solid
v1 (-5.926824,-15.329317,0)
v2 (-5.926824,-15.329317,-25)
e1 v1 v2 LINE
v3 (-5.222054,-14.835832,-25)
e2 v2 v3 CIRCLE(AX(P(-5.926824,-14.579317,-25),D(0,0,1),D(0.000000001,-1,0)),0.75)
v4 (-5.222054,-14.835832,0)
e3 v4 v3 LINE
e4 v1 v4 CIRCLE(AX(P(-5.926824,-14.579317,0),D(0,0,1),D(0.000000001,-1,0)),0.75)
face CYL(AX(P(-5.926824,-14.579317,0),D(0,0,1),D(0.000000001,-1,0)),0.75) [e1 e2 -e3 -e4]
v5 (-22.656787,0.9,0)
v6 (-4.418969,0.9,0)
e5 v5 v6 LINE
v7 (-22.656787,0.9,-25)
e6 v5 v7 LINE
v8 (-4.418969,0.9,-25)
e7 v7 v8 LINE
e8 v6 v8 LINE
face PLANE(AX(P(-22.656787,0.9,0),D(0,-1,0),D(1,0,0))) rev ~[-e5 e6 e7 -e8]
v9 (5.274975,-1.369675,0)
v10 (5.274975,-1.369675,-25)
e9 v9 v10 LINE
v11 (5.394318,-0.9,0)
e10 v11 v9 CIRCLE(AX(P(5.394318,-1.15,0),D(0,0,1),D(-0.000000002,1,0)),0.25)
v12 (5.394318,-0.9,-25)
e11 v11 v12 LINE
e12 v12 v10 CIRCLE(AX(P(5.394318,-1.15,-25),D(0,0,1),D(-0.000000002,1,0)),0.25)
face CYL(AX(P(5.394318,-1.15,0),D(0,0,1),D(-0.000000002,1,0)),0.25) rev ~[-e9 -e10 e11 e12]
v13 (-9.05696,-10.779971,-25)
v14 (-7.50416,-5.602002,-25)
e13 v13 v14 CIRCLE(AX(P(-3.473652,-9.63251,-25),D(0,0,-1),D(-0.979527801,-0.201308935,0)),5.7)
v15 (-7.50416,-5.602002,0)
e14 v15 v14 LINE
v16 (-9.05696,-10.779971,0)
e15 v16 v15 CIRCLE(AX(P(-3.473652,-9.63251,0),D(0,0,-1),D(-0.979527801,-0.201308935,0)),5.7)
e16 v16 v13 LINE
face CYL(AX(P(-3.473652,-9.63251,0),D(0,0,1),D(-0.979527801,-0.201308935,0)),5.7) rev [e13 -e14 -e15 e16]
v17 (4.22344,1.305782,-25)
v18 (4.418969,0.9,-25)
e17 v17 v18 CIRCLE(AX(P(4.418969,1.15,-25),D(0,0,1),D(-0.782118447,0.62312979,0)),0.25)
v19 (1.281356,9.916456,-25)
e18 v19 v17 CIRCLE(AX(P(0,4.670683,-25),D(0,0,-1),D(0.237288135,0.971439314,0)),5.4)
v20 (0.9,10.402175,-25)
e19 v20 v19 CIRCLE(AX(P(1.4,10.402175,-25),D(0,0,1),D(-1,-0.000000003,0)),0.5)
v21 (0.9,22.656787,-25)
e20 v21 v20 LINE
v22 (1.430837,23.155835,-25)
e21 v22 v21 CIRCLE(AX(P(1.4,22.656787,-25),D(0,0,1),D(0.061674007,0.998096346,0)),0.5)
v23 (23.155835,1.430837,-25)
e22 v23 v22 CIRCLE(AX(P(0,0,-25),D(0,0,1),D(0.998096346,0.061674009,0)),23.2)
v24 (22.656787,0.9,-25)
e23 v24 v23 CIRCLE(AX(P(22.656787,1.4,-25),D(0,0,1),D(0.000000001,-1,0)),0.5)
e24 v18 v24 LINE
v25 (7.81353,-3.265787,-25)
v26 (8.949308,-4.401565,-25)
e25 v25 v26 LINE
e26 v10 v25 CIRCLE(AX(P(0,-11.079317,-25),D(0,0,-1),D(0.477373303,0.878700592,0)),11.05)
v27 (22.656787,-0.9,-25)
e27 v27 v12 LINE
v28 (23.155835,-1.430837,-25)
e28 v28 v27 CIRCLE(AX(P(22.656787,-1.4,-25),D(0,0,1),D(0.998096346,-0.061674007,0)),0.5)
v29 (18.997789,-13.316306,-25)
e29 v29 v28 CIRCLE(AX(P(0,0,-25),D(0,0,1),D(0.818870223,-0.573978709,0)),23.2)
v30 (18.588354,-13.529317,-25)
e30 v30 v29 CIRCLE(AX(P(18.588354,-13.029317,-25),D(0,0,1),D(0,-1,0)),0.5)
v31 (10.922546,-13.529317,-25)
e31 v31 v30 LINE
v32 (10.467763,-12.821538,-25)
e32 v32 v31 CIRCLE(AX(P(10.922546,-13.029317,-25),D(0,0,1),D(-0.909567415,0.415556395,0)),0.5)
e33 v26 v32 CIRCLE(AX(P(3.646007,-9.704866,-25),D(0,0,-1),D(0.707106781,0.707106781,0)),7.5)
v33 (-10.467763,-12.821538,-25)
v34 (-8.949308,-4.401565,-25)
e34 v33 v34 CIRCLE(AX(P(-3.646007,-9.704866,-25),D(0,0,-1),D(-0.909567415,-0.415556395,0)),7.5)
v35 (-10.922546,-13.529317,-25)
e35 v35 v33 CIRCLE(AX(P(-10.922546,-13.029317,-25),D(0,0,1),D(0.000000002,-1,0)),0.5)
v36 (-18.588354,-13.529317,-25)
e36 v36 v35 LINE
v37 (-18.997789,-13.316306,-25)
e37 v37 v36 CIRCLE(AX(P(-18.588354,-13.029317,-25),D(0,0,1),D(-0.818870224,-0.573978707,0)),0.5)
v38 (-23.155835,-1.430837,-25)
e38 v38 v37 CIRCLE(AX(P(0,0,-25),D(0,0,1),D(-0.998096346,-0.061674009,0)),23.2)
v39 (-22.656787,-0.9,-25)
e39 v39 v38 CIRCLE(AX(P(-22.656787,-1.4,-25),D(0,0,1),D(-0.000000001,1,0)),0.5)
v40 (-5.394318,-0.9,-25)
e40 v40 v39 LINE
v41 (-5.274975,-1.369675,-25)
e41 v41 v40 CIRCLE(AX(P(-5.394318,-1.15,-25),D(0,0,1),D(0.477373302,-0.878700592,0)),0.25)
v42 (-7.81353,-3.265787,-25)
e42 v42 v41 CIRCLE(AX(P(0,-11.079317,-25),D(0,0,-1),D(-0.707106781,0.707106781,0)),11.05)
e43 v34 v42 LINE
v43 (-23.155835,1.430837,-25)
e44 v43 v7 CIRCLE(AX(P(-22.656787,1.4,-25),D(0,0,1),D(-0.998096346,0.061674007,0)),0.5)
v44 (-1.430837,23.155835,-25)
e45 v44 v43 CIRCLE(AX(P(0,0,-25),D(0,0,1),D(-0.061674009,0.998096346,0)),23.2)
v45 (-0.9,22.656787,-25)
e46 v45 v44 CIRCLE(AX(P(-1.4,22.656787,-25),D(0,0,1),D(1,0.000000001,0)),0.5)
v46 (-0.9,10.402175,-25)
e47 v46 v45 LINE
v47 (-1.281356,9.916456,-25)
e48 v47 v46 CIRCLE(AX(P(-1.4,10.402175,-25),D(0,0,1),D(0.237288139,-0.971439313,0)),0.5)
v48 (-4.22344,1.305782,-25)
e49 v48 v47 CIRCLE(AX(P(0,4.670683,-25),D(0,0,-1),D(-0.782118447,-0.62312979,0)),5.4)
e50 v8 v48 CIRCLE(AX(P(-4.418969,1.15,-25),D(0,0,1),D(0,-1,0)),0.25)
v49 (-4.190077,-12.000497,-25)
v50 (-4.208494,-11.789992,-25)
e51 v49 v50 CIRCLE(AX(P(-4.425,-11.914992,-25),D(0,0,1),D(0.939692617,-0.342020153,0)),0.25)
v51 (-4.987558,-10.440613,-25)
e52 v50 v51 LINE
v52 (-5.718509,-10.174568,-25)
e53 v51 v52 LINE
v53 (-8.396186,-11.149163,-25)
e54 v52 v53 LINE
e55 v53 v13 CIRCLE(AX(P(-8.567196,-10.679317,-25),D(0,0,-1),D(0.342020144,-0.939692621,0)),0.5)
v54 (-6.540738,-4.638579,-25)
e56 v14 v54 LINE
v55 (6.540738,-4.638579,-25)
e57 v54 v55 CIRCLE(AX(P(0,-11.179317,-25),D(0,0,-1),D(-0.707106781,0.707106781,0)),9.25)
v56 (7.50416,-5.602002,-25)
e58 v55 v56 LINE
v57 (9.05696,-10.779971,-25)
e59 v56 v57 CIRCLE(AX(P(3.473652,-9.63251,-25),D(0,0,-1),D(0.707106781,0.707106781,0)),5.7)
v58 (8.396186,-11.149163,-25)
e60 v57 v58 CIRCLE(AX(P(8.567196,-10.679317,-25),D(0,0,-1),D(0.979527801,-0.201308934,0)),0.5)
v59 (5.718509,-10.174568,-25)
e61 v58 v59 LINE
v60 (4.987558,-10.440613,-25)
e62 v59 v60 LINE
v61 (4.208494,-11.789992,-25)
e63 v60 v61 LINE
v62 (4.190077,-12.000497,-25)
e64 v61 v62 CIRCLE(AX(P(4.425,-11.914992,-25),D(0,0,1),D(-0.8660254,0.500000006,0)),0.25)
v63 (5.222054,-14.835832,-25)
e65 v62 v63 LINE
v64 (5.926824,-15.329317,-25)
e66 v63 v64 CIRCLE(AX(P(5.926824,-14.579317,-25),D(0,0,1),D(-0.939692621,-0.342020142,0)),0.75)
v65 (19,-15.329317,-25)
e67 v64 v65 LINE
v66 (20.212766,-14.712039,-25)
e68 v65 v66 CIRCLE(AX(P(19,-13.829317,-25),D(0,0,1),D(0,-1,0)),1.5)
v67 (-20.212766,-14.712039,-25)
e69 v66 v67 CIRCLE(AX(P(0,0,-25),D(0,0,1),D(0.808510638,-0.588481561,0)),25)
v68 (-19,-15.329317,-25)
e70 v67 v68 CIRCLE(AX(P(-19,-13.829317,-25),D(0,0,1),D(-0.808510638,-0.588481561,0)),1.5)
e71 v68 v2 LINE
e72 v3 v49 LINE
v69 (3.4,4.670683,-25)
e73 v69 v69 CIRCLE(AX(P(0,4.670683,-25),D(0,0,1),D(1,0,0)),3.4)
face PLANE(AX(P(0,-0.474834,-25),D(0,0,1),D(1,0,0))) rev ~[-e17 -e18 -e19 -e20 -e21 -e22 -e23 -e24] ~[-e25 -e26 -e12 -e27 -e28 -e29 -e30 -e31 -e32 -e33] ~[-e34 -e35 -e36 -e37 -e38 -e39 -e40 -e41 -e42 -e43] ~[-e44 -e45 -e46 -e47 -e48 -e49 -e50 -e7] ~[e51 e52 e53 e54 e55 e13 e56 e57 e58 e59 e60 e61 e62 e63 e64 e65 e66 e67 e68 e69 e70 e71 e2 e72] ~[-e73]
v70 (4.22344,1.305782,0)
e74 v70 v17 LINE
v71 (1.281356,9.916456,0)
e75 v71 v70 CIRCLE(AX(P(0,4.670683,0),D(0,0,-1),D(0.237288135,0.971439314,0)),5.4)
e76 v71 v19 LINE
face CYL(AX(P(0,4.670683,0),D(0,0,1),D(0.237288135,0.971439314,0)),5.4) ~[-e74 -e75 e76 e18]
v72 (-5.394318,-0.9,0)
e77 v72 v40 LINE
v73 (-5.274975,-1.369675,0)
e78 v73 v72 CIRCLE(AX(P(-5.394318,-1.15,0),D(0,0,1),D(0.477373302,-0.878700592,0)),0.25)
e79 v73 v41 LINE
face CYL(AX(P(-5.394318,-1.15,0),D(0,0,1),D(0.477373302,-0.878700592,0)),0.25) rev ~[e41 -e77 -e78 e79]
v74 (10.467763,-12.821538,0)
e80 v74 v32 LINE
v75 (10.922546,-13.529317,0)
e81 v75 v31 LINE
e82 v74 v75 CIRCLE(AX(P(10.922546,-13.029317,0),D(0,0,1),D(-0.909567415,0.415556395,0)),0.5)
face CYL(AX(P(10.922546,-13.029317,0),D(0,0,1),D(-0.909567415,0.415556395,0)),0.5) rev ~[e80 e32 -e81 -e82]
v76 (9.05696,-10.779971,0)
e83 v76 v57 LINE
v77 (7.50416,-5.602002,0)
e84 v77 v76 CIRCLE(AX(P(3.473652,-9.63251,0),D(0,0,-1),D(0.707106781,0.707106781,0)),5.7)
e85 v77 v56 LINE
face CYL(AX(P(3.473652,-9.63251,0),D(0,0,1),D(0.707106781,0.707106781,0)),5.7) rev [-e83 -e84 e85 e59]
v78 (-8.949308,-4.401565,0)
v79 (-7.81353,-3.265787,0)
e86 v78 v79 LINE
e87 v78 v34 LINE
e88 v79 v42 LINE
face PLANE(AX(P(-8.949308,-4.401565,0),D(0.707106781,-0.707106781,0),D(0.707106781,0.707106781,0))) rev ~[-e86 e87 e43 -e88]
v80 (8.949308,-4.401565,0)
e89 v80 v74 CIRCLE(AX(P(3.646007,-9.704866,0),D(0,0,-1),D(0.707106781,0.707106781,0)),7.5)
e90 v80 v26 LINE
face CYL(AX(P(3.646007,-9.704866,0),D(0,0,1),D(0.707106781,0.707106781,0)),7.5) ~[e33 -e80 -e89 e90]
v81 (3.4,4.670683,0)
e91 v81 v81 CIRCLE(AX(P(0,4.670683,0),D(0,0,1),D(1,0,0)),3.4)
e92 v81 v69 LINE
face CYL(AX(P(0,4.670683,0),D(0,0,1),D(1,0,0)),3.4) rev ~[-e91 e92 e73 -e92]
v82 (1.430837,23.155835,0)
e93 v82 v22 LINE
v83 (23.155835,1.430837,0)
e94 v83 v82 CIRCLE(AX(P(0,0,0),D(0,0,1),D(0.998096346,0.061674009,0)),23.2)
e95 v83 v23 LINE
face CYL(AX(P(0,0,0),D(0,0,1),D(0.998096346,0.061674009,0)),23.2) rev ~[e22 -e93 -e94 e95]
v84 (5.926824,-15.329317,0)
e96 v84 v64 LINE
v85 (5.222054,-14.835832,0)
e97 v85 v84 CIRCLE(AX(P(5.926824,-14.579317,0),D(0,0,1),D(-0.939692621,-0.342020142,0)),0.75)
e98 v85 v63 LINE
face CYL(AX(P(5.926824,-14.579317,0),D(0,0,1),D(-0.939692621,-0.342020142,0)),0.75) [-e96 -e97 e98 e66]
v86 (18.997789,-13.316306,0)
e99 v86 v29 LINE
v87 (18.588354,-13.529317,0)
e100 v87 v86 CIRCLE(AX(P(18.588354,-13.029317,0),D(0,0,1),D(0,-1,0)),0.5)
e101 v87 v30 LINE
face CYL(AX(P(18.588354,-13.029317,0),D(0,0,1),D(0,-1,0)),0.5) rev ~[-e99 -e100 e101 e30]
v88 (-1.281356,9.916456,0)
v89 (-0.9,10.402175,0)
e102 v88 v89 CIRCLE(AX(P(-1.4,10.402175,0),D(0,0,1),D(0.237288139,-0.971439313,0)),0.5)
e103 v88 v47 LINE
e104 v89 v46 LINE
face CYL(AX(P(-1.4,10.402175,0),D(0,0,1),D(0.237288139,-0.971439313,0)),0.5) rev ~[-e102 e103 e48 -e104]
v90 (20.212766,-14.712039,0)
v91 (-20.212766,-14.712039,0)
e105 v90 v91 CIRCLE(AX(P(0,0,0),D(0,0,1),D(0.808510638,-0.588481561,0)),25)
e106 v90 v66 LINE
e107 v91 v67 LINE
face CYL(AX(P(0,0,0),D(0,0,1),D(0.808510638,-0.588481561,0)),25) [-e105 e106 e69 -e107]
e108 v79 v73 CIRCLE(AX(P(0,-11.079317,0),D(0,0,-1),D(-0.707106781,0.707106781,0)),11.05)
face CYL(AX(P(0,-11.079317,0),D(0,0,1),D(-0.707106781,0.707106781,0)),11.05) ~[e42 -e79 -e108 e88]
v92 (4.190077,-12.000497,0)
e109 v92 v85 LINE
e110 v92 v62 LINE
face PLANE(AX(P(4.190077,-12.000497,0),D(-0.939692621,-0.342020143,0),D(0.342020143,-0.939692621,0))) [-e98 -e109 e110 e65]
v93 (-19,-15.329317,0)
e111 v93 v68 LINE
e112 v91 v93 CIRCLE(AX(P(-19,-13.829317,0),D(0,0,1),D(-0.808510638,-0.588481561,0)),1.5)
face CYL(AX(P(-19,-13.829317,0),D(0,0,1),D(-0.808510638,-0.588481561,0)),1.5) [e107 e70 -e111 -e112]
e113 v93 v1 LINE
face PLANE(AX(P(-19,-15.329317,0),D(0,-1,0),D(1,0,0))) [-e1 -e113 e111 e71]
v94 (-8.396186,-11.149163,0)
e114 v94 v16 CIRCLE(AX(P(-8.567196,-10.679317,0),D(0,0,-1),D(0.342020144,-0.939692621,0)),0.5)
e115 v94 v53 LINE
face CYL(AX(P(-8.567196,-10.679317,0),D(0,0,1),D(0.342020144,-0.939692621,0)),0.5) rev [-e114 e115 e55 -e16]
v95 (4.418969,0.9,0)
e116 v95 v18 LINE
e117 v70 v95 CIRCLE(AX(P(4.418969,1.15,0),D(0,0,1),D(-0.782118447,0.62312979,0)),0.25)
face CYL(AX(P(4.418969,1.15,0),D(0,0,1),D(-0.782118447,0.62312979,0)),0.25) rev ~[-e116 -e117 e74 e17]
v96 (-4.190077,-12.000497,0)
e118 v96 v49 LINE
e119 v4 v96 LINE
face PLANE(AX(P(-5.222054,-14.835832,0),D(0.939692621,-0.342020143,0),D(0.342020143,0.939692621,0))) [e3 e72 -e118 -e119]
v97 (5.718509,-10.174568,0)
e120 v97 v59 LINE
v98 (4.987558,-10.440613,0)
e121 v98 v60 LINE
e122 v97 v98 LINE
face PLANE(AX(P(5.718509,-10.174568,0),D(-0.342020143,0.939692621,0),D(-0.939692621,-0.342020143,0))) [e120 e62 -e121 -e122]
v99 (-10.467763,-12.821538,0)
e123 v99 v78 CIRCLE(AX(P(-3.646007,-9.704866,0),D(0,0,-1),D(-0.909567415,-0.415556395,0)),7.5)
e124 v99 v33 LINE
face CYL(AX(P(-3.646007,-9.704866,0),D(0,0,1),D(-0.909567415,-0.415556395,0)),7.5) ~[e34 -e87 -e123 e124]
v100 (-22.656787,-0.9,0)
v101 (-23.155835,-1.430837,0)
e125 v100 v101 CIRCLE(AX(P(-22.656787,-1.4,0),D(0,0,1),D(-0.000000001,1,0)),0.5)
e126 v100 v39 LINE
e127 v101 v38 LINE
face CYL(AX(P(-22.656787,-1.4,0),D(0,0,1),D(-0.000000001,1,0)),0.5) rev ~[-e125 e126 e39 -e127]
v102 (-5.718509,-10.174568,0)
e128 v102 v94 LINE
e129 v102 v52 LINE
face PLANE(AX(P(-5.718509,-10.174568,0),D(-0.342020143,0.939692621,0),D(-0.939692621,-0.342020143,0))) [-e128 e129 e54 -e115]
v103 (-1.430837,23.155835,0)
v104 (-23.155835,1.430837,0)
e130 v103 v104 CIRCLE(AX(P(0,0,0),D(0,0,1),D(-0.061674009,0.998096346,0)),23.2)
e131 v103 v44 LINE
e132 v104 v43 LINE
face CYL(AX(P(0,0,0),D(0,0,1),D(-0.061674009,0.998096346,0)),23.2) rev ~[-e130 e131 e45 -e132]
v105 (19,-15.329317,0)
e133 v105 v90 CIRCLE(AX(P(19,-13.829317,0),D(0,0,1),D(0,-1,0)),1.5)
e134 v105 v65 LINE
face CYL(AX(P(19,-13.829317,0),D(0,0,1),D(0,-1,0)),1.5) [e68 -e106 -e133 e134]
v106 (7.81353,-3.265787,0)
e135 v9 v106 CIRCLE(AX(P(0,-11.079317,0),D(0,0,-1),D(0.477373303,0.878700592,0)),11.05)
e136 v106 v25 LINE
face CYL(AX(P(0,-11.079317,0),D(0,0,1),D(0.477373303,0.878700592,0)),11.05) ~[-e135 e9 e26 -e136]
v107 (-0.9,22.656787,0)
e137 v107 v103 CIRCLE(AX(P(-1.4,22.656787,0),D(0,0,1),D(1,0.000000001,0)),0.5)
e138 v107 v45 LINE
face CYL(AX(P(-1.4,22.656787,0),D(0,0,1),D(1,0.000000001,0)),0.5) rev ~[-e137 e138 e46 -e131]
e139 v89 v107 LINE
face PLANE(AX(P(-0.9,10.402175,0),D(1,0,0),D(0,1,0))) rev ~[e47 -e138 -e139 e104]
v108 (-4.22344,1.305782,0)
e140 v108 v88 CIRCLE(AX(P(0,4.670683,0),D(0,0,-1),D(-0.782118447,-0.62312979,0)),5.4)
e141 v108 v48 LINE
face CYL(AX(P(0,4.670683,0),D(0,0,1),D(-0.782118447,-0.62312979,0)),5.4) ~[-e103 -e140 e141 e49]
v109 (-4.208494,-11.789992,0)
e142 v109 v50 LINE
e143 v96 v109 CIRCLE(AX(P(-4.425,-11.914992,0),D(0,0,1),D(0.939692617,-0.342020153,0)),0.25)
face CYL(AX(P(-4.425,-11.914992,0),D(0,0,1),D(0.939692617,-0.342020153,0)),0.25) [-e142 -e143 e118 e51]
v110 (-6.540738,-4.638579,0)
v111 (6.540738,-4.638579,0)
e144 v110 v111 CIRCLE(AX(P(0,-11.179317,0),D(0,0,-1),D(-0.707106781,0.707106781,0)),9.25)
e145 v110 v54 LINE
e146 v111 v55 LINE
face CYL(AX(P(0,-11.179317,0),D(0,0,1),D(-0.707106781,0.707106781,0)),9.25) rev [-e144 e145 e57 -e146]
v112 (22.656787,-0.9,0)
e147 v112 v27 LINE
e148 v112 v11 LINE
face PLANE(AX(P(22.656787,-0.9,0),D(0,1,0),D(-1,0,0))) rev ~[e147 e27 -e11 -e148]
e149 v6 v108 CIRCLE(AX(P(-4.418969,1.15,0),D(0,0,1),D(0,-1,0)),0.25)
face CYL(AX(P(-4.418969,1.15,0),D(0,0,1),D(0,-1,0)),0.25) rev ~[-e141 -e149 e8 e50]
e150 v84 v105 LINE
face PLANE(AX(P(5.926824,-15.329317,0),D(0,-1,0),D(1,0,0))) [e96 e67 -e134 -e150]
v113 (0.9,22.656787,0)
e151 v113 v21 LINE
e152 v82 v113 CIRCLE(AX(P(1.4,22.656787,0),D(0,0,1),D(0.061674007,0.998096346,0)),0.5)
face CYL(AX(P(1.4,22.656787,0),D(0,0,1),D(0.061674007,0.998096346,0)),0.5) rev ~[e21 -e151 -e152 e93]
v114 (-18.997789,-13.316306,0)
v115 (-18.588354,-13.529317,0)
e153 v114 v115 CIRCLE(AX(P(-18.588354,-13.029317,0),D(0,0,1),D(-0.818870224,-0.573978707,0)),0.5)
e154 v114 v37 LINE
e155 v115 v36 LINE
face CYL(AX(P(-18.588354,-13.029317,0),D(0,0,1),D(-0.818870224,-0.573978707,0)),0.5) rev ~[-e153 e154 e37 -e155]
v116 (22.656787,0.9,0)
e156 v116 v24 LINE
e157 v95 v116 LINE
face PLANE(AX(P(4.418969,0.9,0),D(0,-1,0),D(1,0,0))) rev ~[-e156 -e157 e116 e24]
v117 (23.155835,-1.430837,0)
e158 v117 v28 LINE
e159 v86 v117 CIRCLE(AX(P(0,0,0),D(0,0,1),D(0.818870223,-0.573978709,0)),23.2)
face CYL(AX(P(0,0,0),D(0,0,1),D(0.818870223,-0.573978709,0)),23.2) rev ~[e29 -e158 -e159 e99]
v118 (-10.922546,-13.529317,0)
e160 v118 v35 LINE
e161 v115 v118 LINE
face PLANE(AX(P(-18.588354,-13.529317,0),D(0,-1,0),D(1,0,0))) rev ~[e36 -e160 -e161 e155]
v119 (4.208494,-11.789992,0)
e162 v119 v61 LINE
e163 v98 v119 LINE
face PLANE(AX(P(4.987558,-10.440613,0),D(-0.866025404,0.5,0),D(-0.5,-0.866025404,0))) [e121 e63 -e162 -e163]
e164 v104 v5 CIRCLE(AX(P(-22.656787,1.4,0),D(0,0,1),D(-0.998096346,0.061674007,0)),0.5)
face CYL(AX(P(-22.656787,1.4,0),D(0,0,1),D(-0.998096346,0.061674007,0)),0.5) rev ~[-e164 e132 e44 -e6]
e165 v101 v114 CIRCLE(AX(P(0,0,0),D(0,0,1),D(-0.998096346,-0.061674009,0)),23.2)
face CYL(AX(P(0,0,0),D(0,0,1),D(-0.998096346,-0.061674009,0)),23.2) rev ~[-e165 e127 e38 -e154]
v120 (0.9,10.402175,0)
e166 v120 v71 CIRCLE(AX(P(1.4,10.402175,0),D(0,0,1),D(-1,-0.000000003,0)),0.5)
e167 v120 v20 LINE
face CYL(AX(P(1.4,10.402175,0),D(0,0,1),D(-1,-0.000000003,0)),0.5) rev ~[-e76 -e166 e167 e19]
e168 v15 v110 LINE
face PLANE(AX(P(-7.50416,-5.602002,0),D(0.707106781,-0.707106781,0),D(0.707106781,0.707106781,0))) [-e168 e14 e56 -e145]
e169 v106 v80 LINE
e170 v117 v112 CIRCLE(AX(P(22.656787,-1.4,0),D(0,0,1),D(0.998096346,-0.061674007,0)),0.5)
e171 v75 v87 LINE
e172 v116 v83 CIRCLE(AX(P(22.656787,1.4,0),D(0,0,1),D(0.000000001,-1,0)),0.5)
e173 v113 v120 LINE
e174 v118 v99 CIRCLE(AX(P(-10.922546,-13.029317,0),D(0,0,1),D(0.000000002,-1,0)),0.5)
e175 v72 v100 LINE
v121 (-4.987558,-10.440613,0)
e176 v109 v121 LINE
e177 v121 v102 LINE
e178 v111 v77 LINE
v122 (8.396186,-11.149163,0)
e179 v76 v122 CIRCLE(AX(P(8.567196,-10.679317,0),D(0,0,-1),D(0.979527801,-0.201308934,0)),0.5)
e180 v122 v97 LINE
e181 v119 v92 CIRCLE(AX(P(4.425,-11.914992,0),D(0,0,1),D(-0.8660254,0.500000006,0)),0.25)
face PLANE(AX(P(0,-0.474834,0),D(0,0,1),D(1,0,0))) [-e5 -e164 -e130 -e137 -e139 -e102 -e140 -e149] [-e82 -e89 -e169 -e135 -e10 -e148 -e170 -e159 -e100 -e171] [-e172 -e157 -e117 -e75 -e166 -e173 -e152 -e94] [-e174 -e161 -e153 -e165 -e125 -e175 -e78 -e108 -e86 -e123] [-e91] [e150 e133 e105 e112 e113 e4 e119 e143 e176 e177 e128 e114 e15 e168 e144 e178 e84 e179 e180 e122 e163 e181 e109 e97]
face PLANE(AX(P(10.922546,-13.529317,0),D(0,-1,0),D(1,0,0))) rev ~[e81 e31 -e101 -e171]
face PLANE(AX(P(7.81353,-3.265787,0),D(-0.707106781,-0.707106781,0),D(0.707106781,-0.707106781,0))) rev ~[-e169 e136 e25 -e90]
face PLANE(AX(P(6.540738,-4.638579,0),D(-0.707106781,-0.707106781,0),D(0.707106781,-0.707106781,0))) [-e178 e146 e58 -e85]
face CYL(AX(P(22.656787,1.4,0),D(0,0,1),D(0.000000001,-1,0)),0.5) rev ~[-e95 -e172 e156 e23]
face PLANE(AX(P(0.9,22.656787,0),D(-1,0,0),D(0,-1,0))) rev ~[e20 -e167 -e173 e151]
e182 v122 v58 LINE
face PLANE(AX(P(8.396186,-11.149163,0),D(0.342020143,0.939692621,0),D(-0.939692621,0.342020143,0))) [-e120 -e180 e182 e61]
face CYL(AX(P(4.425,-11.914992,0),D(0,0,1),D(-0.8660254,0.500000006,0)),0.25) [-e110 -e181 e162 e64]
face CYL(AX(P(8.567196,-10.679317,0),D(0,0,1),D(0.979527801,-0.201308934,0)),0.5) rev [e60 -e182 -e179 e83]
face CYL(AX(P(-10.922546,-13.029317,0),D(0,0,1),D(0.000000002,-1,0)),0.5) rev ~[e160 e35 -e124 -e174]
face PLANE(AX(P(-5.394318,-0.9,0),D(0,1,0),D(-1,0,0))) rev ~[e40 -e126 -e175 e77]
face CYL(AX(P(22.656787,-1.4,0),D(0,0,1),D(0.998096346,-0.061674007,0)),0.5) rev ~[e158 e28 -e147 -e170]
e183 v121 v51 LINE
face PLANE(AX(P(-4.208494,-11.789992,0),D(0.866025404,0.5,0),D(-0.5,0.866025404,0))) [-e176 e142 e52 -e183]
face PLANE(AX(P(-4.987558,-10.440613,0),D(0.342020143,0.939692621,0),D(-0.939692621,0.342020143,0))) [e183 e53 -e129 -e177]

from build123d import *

# Parameters (mm, degrees)
SK_MAIN_EXTRUSION_R  = 3.4
MAIN_EXTRUSION_DEPTH = 25


with BuildPart() as part:
    # Sk Main Extrusion → Main Extrusion (new body)
    with BuildSketch(Plane.XY):
        with BuildLine():
            Line((5.926823816, -15.329316686), (19, -15.329316686))
            ThreePointArc((19, -15.329316686), (19.68041035, -15.166119497), (20.212765957, -14.712039028))
            ThreePointArc((20.212765957, -14.712039028), (0, 25), (-20.212765957, -14.712039028))
            ThreePointArc((-20.212765957, -14.712039028), (-19.68041035, -15.166119497), (-19, -15.329316686))
            Line((-19, -15.329316686), (-5.926823816, -15.329316686))
            ThreePointArc((-5.926823816, -15.329316686), (-5.496641489, -15.193680719), (-5.222054351, -14.835831793))
            Line((-5.222054351, -14.835831793), (-4.190076845, -12.000496898))
            ThreePointArc((-4.190076845, -12.000496898), (-4.175951325, -11.893202927), (-4.208493649, -11.789991862))
            Line((-4.208493649, -11.789991862), (-4.987558066, -10.44061271))
            Line((-4.987558066, -10.44061271), (-5.718509166, -10.174568267))
            Line((-5.718509166, -10.174568267), (-8.396186179, -11.149162996))
            ThreePointArc((-8.396186179, -11.149162996), (-8.811074612, -11.115806485), (-9.056960151, -10.779971153))
            ThreePointArc((-9.056960151, -10.779971153), (-8.933433013, -7.995199058), (-7.504160339, -5.602001573))
            Line((-7.504160339, -5.602001573), (-6.540737726, -4.63857896))
            ThreePointArc((-6.540737726, -4.63857896), (0, -1.929316686), (6.540737726, -4.63857896))
            Line((6.540737726, -4.63857896), (7.504160339, -5.602001573))
            ThreePointArc((7.504160339, -5.602001573), (8.933433013, -7.995199058), (9.056960151, -10.779971153))
            ThreePointArc((9.056960151, -10.779971153), (8.811074612, -11.115806485), (8.396186179, -11.149162996))
            Line((8.396186179, -11.149162996), (5.718509166, -10.174568267))
            Line((5.718509166, -10.174568267), (4.987558066, -10.44061271))
            Line((4.987558066, -10.44061271), (4.208493649, -11.789991862))
            ThreePointArc((4.208493649, -11.789991862), (4.175951325, -11.893202927), (4.190076845, -12.000496898))
            Line((4.190076845, -12.000496898), (5.222054351, -14.835831793))
            ThreePointArc((5.222054351, -14.835831793), (5.496641489, -15.193680719), (5.926823816, -15.329316686))
        make_face()
        with Locations((0, 4.670683314)):
            Circle(SK_MAIN_EXTRUSION_R, mode=Mode.SUBTRACT)
        with BuildLine():
            Line((4.418969224, 0.9), (22.656787063, 0.9))
            ThreePointArc((22.656787063, 0.9), (23.021079872, 1.05752263), (23.155835236, 1.430837004))
            ThreePointArc((23.155835236, 1.430837004), (16.404877324, 16.404877324), (1.430837004, 23.155835236))
            ThreePointArc((1.430837004, 23.155835236), (1.05752263, 23.021079872), (0.9, 22.656787063))
            Line((0.9, 22.656787063), (0.9, 10.402175266))
            ThreePointArc((0.9, 10.402175266), (1.006730351, 10.093405153), (1.281355932, 9.916455609))
            ThreePointArc((1.281355932, 9.916455609), (5.109952698, 6.416645349), (4.223439612, 1.305782448))
            ThreePointArc((4.223439612, 1.305782448), (4.193751982, 1.041477219), (4.418969224, 0.9))
        make_face(mode=Mode.SUBTRACT)
        with BuildLine():
            Line((-22.656787063, 0.9), (-4.418969224, 0.9))
            ThreePointArc((-4.418969224, 0.9), (-4.193751982, 1.041477219), (-4.223439612, 1.305782448))
            ThreePointArc((-4.223439612, 1.305782448), (-5.109952698, 6.416645349), (-1.281355932, 9.916455609))
            ThreePointArc((-1.281355932, 9.916455609), (-1.006730351, 10.093405153), (-0.9, 10.402175266))
            Line((-0.9, 10.402175266), (-0.9, 22.656787063))
            ThreePointArc((-0.9, 22.656787063), (-1.05752263, 23.021079872), (-1.430837004, 23.155835236))
            ThreePointArc((-1.430837004, 23.155835236), (-16.404877324, 16.404877324), (-23.155835236, 1.430837004))
            ThreePointArc((-23.155835236, 1.430837004), (-23.021079872, 1.05752263), (-22.656787063, 0.9))
        make_face(mode=Mode.SUBTRACT)
        with BuildLine():
            Line((-18.588354061, -13.529316686), (-10.922546302, -13.529316686))
            ThreePointArc((-10.922546302, -13.529316686), (-10.501898529, -13.299604404), (-10.467762595, -12.821538488))
            ThreePointArc((-10.467762595, -12.821538488), (-11.026944485, -8.37379017), (-8.949307842, -4.401564664))
            Line((-8.949307842, -4.401564664), (-7.813529932, -3.265786754))
            ThreePointArc((-7.813529932, -3.265786754), (-6.612567589, -2.226269195), (-5.274974996, -1.369675148))
            ThreePointArc((-5.274974996, -1.369675148), (-5.152018108, -1.088432098), (-5.394318321, -0.9))
            Line((-5.394318321, -0.9), (-22.656787063, -0.9))
            ThreePointArc((-22.656787063, -0.9), (-23.021079872, -1.05752263), (-23.155835236, -1.430837004))
            ThreePointArc((-23.155835236, -1.430837004), (-21.898586855, -7.661063488), (-18.997789172, -13.31630604))
            ThreePointArc((-18.997789172, -13.31630604), (-18.819119443, -13.472878788), (-18.588354061, -13.529316686))
        make_face(mode=Mode.SUBTRACT)
        with BuildLine():
            Line((7.813529932, -3.265786754), (8.949307842, -4.401564664))
            ThreePointArc((8.949307842, -4.401564664), (11.026944485, -8.37379017), (10.467762595, -12.821538488))
            ThreePointArc((10.467762595, -12.821538488), (10.501898529, -13.299604404), (10.922546302, -13.529316686))
            Line((10.922546302, -13.529316686), (18.588354061, -13.529316686))
            ThreePointArc((18.588354061, -13.529316686), (18.819119443, -13.472878788), (18.997789172, -13.31630604))
            ThreePointArc((18.997789172, -13.31630604), (21.898586855, -7.661063488), (23.155835236, -1.430837004))
            ThreePointArc((23.155835236, -1.430837004), (23.021079872, -1.05752263), (22.656787063, -0.9))
            Line((22.656787063, -0.9), (5.394318321, -0.9))
            ThreePointArc((5.394318321, -0.9), (5.152018108, -1.088432098), (5.274974996, -1.369675148))
            ThreePointArc((5.274974996, -1.369675148), (6.612567589, -2.226269195), (7.813529932, -3.265786754))
        make_face(mode=Mode.SUBTRACT)
    extrude(amount=-MAIN_EXTRUSION_DEPTH)


solid = part.part
